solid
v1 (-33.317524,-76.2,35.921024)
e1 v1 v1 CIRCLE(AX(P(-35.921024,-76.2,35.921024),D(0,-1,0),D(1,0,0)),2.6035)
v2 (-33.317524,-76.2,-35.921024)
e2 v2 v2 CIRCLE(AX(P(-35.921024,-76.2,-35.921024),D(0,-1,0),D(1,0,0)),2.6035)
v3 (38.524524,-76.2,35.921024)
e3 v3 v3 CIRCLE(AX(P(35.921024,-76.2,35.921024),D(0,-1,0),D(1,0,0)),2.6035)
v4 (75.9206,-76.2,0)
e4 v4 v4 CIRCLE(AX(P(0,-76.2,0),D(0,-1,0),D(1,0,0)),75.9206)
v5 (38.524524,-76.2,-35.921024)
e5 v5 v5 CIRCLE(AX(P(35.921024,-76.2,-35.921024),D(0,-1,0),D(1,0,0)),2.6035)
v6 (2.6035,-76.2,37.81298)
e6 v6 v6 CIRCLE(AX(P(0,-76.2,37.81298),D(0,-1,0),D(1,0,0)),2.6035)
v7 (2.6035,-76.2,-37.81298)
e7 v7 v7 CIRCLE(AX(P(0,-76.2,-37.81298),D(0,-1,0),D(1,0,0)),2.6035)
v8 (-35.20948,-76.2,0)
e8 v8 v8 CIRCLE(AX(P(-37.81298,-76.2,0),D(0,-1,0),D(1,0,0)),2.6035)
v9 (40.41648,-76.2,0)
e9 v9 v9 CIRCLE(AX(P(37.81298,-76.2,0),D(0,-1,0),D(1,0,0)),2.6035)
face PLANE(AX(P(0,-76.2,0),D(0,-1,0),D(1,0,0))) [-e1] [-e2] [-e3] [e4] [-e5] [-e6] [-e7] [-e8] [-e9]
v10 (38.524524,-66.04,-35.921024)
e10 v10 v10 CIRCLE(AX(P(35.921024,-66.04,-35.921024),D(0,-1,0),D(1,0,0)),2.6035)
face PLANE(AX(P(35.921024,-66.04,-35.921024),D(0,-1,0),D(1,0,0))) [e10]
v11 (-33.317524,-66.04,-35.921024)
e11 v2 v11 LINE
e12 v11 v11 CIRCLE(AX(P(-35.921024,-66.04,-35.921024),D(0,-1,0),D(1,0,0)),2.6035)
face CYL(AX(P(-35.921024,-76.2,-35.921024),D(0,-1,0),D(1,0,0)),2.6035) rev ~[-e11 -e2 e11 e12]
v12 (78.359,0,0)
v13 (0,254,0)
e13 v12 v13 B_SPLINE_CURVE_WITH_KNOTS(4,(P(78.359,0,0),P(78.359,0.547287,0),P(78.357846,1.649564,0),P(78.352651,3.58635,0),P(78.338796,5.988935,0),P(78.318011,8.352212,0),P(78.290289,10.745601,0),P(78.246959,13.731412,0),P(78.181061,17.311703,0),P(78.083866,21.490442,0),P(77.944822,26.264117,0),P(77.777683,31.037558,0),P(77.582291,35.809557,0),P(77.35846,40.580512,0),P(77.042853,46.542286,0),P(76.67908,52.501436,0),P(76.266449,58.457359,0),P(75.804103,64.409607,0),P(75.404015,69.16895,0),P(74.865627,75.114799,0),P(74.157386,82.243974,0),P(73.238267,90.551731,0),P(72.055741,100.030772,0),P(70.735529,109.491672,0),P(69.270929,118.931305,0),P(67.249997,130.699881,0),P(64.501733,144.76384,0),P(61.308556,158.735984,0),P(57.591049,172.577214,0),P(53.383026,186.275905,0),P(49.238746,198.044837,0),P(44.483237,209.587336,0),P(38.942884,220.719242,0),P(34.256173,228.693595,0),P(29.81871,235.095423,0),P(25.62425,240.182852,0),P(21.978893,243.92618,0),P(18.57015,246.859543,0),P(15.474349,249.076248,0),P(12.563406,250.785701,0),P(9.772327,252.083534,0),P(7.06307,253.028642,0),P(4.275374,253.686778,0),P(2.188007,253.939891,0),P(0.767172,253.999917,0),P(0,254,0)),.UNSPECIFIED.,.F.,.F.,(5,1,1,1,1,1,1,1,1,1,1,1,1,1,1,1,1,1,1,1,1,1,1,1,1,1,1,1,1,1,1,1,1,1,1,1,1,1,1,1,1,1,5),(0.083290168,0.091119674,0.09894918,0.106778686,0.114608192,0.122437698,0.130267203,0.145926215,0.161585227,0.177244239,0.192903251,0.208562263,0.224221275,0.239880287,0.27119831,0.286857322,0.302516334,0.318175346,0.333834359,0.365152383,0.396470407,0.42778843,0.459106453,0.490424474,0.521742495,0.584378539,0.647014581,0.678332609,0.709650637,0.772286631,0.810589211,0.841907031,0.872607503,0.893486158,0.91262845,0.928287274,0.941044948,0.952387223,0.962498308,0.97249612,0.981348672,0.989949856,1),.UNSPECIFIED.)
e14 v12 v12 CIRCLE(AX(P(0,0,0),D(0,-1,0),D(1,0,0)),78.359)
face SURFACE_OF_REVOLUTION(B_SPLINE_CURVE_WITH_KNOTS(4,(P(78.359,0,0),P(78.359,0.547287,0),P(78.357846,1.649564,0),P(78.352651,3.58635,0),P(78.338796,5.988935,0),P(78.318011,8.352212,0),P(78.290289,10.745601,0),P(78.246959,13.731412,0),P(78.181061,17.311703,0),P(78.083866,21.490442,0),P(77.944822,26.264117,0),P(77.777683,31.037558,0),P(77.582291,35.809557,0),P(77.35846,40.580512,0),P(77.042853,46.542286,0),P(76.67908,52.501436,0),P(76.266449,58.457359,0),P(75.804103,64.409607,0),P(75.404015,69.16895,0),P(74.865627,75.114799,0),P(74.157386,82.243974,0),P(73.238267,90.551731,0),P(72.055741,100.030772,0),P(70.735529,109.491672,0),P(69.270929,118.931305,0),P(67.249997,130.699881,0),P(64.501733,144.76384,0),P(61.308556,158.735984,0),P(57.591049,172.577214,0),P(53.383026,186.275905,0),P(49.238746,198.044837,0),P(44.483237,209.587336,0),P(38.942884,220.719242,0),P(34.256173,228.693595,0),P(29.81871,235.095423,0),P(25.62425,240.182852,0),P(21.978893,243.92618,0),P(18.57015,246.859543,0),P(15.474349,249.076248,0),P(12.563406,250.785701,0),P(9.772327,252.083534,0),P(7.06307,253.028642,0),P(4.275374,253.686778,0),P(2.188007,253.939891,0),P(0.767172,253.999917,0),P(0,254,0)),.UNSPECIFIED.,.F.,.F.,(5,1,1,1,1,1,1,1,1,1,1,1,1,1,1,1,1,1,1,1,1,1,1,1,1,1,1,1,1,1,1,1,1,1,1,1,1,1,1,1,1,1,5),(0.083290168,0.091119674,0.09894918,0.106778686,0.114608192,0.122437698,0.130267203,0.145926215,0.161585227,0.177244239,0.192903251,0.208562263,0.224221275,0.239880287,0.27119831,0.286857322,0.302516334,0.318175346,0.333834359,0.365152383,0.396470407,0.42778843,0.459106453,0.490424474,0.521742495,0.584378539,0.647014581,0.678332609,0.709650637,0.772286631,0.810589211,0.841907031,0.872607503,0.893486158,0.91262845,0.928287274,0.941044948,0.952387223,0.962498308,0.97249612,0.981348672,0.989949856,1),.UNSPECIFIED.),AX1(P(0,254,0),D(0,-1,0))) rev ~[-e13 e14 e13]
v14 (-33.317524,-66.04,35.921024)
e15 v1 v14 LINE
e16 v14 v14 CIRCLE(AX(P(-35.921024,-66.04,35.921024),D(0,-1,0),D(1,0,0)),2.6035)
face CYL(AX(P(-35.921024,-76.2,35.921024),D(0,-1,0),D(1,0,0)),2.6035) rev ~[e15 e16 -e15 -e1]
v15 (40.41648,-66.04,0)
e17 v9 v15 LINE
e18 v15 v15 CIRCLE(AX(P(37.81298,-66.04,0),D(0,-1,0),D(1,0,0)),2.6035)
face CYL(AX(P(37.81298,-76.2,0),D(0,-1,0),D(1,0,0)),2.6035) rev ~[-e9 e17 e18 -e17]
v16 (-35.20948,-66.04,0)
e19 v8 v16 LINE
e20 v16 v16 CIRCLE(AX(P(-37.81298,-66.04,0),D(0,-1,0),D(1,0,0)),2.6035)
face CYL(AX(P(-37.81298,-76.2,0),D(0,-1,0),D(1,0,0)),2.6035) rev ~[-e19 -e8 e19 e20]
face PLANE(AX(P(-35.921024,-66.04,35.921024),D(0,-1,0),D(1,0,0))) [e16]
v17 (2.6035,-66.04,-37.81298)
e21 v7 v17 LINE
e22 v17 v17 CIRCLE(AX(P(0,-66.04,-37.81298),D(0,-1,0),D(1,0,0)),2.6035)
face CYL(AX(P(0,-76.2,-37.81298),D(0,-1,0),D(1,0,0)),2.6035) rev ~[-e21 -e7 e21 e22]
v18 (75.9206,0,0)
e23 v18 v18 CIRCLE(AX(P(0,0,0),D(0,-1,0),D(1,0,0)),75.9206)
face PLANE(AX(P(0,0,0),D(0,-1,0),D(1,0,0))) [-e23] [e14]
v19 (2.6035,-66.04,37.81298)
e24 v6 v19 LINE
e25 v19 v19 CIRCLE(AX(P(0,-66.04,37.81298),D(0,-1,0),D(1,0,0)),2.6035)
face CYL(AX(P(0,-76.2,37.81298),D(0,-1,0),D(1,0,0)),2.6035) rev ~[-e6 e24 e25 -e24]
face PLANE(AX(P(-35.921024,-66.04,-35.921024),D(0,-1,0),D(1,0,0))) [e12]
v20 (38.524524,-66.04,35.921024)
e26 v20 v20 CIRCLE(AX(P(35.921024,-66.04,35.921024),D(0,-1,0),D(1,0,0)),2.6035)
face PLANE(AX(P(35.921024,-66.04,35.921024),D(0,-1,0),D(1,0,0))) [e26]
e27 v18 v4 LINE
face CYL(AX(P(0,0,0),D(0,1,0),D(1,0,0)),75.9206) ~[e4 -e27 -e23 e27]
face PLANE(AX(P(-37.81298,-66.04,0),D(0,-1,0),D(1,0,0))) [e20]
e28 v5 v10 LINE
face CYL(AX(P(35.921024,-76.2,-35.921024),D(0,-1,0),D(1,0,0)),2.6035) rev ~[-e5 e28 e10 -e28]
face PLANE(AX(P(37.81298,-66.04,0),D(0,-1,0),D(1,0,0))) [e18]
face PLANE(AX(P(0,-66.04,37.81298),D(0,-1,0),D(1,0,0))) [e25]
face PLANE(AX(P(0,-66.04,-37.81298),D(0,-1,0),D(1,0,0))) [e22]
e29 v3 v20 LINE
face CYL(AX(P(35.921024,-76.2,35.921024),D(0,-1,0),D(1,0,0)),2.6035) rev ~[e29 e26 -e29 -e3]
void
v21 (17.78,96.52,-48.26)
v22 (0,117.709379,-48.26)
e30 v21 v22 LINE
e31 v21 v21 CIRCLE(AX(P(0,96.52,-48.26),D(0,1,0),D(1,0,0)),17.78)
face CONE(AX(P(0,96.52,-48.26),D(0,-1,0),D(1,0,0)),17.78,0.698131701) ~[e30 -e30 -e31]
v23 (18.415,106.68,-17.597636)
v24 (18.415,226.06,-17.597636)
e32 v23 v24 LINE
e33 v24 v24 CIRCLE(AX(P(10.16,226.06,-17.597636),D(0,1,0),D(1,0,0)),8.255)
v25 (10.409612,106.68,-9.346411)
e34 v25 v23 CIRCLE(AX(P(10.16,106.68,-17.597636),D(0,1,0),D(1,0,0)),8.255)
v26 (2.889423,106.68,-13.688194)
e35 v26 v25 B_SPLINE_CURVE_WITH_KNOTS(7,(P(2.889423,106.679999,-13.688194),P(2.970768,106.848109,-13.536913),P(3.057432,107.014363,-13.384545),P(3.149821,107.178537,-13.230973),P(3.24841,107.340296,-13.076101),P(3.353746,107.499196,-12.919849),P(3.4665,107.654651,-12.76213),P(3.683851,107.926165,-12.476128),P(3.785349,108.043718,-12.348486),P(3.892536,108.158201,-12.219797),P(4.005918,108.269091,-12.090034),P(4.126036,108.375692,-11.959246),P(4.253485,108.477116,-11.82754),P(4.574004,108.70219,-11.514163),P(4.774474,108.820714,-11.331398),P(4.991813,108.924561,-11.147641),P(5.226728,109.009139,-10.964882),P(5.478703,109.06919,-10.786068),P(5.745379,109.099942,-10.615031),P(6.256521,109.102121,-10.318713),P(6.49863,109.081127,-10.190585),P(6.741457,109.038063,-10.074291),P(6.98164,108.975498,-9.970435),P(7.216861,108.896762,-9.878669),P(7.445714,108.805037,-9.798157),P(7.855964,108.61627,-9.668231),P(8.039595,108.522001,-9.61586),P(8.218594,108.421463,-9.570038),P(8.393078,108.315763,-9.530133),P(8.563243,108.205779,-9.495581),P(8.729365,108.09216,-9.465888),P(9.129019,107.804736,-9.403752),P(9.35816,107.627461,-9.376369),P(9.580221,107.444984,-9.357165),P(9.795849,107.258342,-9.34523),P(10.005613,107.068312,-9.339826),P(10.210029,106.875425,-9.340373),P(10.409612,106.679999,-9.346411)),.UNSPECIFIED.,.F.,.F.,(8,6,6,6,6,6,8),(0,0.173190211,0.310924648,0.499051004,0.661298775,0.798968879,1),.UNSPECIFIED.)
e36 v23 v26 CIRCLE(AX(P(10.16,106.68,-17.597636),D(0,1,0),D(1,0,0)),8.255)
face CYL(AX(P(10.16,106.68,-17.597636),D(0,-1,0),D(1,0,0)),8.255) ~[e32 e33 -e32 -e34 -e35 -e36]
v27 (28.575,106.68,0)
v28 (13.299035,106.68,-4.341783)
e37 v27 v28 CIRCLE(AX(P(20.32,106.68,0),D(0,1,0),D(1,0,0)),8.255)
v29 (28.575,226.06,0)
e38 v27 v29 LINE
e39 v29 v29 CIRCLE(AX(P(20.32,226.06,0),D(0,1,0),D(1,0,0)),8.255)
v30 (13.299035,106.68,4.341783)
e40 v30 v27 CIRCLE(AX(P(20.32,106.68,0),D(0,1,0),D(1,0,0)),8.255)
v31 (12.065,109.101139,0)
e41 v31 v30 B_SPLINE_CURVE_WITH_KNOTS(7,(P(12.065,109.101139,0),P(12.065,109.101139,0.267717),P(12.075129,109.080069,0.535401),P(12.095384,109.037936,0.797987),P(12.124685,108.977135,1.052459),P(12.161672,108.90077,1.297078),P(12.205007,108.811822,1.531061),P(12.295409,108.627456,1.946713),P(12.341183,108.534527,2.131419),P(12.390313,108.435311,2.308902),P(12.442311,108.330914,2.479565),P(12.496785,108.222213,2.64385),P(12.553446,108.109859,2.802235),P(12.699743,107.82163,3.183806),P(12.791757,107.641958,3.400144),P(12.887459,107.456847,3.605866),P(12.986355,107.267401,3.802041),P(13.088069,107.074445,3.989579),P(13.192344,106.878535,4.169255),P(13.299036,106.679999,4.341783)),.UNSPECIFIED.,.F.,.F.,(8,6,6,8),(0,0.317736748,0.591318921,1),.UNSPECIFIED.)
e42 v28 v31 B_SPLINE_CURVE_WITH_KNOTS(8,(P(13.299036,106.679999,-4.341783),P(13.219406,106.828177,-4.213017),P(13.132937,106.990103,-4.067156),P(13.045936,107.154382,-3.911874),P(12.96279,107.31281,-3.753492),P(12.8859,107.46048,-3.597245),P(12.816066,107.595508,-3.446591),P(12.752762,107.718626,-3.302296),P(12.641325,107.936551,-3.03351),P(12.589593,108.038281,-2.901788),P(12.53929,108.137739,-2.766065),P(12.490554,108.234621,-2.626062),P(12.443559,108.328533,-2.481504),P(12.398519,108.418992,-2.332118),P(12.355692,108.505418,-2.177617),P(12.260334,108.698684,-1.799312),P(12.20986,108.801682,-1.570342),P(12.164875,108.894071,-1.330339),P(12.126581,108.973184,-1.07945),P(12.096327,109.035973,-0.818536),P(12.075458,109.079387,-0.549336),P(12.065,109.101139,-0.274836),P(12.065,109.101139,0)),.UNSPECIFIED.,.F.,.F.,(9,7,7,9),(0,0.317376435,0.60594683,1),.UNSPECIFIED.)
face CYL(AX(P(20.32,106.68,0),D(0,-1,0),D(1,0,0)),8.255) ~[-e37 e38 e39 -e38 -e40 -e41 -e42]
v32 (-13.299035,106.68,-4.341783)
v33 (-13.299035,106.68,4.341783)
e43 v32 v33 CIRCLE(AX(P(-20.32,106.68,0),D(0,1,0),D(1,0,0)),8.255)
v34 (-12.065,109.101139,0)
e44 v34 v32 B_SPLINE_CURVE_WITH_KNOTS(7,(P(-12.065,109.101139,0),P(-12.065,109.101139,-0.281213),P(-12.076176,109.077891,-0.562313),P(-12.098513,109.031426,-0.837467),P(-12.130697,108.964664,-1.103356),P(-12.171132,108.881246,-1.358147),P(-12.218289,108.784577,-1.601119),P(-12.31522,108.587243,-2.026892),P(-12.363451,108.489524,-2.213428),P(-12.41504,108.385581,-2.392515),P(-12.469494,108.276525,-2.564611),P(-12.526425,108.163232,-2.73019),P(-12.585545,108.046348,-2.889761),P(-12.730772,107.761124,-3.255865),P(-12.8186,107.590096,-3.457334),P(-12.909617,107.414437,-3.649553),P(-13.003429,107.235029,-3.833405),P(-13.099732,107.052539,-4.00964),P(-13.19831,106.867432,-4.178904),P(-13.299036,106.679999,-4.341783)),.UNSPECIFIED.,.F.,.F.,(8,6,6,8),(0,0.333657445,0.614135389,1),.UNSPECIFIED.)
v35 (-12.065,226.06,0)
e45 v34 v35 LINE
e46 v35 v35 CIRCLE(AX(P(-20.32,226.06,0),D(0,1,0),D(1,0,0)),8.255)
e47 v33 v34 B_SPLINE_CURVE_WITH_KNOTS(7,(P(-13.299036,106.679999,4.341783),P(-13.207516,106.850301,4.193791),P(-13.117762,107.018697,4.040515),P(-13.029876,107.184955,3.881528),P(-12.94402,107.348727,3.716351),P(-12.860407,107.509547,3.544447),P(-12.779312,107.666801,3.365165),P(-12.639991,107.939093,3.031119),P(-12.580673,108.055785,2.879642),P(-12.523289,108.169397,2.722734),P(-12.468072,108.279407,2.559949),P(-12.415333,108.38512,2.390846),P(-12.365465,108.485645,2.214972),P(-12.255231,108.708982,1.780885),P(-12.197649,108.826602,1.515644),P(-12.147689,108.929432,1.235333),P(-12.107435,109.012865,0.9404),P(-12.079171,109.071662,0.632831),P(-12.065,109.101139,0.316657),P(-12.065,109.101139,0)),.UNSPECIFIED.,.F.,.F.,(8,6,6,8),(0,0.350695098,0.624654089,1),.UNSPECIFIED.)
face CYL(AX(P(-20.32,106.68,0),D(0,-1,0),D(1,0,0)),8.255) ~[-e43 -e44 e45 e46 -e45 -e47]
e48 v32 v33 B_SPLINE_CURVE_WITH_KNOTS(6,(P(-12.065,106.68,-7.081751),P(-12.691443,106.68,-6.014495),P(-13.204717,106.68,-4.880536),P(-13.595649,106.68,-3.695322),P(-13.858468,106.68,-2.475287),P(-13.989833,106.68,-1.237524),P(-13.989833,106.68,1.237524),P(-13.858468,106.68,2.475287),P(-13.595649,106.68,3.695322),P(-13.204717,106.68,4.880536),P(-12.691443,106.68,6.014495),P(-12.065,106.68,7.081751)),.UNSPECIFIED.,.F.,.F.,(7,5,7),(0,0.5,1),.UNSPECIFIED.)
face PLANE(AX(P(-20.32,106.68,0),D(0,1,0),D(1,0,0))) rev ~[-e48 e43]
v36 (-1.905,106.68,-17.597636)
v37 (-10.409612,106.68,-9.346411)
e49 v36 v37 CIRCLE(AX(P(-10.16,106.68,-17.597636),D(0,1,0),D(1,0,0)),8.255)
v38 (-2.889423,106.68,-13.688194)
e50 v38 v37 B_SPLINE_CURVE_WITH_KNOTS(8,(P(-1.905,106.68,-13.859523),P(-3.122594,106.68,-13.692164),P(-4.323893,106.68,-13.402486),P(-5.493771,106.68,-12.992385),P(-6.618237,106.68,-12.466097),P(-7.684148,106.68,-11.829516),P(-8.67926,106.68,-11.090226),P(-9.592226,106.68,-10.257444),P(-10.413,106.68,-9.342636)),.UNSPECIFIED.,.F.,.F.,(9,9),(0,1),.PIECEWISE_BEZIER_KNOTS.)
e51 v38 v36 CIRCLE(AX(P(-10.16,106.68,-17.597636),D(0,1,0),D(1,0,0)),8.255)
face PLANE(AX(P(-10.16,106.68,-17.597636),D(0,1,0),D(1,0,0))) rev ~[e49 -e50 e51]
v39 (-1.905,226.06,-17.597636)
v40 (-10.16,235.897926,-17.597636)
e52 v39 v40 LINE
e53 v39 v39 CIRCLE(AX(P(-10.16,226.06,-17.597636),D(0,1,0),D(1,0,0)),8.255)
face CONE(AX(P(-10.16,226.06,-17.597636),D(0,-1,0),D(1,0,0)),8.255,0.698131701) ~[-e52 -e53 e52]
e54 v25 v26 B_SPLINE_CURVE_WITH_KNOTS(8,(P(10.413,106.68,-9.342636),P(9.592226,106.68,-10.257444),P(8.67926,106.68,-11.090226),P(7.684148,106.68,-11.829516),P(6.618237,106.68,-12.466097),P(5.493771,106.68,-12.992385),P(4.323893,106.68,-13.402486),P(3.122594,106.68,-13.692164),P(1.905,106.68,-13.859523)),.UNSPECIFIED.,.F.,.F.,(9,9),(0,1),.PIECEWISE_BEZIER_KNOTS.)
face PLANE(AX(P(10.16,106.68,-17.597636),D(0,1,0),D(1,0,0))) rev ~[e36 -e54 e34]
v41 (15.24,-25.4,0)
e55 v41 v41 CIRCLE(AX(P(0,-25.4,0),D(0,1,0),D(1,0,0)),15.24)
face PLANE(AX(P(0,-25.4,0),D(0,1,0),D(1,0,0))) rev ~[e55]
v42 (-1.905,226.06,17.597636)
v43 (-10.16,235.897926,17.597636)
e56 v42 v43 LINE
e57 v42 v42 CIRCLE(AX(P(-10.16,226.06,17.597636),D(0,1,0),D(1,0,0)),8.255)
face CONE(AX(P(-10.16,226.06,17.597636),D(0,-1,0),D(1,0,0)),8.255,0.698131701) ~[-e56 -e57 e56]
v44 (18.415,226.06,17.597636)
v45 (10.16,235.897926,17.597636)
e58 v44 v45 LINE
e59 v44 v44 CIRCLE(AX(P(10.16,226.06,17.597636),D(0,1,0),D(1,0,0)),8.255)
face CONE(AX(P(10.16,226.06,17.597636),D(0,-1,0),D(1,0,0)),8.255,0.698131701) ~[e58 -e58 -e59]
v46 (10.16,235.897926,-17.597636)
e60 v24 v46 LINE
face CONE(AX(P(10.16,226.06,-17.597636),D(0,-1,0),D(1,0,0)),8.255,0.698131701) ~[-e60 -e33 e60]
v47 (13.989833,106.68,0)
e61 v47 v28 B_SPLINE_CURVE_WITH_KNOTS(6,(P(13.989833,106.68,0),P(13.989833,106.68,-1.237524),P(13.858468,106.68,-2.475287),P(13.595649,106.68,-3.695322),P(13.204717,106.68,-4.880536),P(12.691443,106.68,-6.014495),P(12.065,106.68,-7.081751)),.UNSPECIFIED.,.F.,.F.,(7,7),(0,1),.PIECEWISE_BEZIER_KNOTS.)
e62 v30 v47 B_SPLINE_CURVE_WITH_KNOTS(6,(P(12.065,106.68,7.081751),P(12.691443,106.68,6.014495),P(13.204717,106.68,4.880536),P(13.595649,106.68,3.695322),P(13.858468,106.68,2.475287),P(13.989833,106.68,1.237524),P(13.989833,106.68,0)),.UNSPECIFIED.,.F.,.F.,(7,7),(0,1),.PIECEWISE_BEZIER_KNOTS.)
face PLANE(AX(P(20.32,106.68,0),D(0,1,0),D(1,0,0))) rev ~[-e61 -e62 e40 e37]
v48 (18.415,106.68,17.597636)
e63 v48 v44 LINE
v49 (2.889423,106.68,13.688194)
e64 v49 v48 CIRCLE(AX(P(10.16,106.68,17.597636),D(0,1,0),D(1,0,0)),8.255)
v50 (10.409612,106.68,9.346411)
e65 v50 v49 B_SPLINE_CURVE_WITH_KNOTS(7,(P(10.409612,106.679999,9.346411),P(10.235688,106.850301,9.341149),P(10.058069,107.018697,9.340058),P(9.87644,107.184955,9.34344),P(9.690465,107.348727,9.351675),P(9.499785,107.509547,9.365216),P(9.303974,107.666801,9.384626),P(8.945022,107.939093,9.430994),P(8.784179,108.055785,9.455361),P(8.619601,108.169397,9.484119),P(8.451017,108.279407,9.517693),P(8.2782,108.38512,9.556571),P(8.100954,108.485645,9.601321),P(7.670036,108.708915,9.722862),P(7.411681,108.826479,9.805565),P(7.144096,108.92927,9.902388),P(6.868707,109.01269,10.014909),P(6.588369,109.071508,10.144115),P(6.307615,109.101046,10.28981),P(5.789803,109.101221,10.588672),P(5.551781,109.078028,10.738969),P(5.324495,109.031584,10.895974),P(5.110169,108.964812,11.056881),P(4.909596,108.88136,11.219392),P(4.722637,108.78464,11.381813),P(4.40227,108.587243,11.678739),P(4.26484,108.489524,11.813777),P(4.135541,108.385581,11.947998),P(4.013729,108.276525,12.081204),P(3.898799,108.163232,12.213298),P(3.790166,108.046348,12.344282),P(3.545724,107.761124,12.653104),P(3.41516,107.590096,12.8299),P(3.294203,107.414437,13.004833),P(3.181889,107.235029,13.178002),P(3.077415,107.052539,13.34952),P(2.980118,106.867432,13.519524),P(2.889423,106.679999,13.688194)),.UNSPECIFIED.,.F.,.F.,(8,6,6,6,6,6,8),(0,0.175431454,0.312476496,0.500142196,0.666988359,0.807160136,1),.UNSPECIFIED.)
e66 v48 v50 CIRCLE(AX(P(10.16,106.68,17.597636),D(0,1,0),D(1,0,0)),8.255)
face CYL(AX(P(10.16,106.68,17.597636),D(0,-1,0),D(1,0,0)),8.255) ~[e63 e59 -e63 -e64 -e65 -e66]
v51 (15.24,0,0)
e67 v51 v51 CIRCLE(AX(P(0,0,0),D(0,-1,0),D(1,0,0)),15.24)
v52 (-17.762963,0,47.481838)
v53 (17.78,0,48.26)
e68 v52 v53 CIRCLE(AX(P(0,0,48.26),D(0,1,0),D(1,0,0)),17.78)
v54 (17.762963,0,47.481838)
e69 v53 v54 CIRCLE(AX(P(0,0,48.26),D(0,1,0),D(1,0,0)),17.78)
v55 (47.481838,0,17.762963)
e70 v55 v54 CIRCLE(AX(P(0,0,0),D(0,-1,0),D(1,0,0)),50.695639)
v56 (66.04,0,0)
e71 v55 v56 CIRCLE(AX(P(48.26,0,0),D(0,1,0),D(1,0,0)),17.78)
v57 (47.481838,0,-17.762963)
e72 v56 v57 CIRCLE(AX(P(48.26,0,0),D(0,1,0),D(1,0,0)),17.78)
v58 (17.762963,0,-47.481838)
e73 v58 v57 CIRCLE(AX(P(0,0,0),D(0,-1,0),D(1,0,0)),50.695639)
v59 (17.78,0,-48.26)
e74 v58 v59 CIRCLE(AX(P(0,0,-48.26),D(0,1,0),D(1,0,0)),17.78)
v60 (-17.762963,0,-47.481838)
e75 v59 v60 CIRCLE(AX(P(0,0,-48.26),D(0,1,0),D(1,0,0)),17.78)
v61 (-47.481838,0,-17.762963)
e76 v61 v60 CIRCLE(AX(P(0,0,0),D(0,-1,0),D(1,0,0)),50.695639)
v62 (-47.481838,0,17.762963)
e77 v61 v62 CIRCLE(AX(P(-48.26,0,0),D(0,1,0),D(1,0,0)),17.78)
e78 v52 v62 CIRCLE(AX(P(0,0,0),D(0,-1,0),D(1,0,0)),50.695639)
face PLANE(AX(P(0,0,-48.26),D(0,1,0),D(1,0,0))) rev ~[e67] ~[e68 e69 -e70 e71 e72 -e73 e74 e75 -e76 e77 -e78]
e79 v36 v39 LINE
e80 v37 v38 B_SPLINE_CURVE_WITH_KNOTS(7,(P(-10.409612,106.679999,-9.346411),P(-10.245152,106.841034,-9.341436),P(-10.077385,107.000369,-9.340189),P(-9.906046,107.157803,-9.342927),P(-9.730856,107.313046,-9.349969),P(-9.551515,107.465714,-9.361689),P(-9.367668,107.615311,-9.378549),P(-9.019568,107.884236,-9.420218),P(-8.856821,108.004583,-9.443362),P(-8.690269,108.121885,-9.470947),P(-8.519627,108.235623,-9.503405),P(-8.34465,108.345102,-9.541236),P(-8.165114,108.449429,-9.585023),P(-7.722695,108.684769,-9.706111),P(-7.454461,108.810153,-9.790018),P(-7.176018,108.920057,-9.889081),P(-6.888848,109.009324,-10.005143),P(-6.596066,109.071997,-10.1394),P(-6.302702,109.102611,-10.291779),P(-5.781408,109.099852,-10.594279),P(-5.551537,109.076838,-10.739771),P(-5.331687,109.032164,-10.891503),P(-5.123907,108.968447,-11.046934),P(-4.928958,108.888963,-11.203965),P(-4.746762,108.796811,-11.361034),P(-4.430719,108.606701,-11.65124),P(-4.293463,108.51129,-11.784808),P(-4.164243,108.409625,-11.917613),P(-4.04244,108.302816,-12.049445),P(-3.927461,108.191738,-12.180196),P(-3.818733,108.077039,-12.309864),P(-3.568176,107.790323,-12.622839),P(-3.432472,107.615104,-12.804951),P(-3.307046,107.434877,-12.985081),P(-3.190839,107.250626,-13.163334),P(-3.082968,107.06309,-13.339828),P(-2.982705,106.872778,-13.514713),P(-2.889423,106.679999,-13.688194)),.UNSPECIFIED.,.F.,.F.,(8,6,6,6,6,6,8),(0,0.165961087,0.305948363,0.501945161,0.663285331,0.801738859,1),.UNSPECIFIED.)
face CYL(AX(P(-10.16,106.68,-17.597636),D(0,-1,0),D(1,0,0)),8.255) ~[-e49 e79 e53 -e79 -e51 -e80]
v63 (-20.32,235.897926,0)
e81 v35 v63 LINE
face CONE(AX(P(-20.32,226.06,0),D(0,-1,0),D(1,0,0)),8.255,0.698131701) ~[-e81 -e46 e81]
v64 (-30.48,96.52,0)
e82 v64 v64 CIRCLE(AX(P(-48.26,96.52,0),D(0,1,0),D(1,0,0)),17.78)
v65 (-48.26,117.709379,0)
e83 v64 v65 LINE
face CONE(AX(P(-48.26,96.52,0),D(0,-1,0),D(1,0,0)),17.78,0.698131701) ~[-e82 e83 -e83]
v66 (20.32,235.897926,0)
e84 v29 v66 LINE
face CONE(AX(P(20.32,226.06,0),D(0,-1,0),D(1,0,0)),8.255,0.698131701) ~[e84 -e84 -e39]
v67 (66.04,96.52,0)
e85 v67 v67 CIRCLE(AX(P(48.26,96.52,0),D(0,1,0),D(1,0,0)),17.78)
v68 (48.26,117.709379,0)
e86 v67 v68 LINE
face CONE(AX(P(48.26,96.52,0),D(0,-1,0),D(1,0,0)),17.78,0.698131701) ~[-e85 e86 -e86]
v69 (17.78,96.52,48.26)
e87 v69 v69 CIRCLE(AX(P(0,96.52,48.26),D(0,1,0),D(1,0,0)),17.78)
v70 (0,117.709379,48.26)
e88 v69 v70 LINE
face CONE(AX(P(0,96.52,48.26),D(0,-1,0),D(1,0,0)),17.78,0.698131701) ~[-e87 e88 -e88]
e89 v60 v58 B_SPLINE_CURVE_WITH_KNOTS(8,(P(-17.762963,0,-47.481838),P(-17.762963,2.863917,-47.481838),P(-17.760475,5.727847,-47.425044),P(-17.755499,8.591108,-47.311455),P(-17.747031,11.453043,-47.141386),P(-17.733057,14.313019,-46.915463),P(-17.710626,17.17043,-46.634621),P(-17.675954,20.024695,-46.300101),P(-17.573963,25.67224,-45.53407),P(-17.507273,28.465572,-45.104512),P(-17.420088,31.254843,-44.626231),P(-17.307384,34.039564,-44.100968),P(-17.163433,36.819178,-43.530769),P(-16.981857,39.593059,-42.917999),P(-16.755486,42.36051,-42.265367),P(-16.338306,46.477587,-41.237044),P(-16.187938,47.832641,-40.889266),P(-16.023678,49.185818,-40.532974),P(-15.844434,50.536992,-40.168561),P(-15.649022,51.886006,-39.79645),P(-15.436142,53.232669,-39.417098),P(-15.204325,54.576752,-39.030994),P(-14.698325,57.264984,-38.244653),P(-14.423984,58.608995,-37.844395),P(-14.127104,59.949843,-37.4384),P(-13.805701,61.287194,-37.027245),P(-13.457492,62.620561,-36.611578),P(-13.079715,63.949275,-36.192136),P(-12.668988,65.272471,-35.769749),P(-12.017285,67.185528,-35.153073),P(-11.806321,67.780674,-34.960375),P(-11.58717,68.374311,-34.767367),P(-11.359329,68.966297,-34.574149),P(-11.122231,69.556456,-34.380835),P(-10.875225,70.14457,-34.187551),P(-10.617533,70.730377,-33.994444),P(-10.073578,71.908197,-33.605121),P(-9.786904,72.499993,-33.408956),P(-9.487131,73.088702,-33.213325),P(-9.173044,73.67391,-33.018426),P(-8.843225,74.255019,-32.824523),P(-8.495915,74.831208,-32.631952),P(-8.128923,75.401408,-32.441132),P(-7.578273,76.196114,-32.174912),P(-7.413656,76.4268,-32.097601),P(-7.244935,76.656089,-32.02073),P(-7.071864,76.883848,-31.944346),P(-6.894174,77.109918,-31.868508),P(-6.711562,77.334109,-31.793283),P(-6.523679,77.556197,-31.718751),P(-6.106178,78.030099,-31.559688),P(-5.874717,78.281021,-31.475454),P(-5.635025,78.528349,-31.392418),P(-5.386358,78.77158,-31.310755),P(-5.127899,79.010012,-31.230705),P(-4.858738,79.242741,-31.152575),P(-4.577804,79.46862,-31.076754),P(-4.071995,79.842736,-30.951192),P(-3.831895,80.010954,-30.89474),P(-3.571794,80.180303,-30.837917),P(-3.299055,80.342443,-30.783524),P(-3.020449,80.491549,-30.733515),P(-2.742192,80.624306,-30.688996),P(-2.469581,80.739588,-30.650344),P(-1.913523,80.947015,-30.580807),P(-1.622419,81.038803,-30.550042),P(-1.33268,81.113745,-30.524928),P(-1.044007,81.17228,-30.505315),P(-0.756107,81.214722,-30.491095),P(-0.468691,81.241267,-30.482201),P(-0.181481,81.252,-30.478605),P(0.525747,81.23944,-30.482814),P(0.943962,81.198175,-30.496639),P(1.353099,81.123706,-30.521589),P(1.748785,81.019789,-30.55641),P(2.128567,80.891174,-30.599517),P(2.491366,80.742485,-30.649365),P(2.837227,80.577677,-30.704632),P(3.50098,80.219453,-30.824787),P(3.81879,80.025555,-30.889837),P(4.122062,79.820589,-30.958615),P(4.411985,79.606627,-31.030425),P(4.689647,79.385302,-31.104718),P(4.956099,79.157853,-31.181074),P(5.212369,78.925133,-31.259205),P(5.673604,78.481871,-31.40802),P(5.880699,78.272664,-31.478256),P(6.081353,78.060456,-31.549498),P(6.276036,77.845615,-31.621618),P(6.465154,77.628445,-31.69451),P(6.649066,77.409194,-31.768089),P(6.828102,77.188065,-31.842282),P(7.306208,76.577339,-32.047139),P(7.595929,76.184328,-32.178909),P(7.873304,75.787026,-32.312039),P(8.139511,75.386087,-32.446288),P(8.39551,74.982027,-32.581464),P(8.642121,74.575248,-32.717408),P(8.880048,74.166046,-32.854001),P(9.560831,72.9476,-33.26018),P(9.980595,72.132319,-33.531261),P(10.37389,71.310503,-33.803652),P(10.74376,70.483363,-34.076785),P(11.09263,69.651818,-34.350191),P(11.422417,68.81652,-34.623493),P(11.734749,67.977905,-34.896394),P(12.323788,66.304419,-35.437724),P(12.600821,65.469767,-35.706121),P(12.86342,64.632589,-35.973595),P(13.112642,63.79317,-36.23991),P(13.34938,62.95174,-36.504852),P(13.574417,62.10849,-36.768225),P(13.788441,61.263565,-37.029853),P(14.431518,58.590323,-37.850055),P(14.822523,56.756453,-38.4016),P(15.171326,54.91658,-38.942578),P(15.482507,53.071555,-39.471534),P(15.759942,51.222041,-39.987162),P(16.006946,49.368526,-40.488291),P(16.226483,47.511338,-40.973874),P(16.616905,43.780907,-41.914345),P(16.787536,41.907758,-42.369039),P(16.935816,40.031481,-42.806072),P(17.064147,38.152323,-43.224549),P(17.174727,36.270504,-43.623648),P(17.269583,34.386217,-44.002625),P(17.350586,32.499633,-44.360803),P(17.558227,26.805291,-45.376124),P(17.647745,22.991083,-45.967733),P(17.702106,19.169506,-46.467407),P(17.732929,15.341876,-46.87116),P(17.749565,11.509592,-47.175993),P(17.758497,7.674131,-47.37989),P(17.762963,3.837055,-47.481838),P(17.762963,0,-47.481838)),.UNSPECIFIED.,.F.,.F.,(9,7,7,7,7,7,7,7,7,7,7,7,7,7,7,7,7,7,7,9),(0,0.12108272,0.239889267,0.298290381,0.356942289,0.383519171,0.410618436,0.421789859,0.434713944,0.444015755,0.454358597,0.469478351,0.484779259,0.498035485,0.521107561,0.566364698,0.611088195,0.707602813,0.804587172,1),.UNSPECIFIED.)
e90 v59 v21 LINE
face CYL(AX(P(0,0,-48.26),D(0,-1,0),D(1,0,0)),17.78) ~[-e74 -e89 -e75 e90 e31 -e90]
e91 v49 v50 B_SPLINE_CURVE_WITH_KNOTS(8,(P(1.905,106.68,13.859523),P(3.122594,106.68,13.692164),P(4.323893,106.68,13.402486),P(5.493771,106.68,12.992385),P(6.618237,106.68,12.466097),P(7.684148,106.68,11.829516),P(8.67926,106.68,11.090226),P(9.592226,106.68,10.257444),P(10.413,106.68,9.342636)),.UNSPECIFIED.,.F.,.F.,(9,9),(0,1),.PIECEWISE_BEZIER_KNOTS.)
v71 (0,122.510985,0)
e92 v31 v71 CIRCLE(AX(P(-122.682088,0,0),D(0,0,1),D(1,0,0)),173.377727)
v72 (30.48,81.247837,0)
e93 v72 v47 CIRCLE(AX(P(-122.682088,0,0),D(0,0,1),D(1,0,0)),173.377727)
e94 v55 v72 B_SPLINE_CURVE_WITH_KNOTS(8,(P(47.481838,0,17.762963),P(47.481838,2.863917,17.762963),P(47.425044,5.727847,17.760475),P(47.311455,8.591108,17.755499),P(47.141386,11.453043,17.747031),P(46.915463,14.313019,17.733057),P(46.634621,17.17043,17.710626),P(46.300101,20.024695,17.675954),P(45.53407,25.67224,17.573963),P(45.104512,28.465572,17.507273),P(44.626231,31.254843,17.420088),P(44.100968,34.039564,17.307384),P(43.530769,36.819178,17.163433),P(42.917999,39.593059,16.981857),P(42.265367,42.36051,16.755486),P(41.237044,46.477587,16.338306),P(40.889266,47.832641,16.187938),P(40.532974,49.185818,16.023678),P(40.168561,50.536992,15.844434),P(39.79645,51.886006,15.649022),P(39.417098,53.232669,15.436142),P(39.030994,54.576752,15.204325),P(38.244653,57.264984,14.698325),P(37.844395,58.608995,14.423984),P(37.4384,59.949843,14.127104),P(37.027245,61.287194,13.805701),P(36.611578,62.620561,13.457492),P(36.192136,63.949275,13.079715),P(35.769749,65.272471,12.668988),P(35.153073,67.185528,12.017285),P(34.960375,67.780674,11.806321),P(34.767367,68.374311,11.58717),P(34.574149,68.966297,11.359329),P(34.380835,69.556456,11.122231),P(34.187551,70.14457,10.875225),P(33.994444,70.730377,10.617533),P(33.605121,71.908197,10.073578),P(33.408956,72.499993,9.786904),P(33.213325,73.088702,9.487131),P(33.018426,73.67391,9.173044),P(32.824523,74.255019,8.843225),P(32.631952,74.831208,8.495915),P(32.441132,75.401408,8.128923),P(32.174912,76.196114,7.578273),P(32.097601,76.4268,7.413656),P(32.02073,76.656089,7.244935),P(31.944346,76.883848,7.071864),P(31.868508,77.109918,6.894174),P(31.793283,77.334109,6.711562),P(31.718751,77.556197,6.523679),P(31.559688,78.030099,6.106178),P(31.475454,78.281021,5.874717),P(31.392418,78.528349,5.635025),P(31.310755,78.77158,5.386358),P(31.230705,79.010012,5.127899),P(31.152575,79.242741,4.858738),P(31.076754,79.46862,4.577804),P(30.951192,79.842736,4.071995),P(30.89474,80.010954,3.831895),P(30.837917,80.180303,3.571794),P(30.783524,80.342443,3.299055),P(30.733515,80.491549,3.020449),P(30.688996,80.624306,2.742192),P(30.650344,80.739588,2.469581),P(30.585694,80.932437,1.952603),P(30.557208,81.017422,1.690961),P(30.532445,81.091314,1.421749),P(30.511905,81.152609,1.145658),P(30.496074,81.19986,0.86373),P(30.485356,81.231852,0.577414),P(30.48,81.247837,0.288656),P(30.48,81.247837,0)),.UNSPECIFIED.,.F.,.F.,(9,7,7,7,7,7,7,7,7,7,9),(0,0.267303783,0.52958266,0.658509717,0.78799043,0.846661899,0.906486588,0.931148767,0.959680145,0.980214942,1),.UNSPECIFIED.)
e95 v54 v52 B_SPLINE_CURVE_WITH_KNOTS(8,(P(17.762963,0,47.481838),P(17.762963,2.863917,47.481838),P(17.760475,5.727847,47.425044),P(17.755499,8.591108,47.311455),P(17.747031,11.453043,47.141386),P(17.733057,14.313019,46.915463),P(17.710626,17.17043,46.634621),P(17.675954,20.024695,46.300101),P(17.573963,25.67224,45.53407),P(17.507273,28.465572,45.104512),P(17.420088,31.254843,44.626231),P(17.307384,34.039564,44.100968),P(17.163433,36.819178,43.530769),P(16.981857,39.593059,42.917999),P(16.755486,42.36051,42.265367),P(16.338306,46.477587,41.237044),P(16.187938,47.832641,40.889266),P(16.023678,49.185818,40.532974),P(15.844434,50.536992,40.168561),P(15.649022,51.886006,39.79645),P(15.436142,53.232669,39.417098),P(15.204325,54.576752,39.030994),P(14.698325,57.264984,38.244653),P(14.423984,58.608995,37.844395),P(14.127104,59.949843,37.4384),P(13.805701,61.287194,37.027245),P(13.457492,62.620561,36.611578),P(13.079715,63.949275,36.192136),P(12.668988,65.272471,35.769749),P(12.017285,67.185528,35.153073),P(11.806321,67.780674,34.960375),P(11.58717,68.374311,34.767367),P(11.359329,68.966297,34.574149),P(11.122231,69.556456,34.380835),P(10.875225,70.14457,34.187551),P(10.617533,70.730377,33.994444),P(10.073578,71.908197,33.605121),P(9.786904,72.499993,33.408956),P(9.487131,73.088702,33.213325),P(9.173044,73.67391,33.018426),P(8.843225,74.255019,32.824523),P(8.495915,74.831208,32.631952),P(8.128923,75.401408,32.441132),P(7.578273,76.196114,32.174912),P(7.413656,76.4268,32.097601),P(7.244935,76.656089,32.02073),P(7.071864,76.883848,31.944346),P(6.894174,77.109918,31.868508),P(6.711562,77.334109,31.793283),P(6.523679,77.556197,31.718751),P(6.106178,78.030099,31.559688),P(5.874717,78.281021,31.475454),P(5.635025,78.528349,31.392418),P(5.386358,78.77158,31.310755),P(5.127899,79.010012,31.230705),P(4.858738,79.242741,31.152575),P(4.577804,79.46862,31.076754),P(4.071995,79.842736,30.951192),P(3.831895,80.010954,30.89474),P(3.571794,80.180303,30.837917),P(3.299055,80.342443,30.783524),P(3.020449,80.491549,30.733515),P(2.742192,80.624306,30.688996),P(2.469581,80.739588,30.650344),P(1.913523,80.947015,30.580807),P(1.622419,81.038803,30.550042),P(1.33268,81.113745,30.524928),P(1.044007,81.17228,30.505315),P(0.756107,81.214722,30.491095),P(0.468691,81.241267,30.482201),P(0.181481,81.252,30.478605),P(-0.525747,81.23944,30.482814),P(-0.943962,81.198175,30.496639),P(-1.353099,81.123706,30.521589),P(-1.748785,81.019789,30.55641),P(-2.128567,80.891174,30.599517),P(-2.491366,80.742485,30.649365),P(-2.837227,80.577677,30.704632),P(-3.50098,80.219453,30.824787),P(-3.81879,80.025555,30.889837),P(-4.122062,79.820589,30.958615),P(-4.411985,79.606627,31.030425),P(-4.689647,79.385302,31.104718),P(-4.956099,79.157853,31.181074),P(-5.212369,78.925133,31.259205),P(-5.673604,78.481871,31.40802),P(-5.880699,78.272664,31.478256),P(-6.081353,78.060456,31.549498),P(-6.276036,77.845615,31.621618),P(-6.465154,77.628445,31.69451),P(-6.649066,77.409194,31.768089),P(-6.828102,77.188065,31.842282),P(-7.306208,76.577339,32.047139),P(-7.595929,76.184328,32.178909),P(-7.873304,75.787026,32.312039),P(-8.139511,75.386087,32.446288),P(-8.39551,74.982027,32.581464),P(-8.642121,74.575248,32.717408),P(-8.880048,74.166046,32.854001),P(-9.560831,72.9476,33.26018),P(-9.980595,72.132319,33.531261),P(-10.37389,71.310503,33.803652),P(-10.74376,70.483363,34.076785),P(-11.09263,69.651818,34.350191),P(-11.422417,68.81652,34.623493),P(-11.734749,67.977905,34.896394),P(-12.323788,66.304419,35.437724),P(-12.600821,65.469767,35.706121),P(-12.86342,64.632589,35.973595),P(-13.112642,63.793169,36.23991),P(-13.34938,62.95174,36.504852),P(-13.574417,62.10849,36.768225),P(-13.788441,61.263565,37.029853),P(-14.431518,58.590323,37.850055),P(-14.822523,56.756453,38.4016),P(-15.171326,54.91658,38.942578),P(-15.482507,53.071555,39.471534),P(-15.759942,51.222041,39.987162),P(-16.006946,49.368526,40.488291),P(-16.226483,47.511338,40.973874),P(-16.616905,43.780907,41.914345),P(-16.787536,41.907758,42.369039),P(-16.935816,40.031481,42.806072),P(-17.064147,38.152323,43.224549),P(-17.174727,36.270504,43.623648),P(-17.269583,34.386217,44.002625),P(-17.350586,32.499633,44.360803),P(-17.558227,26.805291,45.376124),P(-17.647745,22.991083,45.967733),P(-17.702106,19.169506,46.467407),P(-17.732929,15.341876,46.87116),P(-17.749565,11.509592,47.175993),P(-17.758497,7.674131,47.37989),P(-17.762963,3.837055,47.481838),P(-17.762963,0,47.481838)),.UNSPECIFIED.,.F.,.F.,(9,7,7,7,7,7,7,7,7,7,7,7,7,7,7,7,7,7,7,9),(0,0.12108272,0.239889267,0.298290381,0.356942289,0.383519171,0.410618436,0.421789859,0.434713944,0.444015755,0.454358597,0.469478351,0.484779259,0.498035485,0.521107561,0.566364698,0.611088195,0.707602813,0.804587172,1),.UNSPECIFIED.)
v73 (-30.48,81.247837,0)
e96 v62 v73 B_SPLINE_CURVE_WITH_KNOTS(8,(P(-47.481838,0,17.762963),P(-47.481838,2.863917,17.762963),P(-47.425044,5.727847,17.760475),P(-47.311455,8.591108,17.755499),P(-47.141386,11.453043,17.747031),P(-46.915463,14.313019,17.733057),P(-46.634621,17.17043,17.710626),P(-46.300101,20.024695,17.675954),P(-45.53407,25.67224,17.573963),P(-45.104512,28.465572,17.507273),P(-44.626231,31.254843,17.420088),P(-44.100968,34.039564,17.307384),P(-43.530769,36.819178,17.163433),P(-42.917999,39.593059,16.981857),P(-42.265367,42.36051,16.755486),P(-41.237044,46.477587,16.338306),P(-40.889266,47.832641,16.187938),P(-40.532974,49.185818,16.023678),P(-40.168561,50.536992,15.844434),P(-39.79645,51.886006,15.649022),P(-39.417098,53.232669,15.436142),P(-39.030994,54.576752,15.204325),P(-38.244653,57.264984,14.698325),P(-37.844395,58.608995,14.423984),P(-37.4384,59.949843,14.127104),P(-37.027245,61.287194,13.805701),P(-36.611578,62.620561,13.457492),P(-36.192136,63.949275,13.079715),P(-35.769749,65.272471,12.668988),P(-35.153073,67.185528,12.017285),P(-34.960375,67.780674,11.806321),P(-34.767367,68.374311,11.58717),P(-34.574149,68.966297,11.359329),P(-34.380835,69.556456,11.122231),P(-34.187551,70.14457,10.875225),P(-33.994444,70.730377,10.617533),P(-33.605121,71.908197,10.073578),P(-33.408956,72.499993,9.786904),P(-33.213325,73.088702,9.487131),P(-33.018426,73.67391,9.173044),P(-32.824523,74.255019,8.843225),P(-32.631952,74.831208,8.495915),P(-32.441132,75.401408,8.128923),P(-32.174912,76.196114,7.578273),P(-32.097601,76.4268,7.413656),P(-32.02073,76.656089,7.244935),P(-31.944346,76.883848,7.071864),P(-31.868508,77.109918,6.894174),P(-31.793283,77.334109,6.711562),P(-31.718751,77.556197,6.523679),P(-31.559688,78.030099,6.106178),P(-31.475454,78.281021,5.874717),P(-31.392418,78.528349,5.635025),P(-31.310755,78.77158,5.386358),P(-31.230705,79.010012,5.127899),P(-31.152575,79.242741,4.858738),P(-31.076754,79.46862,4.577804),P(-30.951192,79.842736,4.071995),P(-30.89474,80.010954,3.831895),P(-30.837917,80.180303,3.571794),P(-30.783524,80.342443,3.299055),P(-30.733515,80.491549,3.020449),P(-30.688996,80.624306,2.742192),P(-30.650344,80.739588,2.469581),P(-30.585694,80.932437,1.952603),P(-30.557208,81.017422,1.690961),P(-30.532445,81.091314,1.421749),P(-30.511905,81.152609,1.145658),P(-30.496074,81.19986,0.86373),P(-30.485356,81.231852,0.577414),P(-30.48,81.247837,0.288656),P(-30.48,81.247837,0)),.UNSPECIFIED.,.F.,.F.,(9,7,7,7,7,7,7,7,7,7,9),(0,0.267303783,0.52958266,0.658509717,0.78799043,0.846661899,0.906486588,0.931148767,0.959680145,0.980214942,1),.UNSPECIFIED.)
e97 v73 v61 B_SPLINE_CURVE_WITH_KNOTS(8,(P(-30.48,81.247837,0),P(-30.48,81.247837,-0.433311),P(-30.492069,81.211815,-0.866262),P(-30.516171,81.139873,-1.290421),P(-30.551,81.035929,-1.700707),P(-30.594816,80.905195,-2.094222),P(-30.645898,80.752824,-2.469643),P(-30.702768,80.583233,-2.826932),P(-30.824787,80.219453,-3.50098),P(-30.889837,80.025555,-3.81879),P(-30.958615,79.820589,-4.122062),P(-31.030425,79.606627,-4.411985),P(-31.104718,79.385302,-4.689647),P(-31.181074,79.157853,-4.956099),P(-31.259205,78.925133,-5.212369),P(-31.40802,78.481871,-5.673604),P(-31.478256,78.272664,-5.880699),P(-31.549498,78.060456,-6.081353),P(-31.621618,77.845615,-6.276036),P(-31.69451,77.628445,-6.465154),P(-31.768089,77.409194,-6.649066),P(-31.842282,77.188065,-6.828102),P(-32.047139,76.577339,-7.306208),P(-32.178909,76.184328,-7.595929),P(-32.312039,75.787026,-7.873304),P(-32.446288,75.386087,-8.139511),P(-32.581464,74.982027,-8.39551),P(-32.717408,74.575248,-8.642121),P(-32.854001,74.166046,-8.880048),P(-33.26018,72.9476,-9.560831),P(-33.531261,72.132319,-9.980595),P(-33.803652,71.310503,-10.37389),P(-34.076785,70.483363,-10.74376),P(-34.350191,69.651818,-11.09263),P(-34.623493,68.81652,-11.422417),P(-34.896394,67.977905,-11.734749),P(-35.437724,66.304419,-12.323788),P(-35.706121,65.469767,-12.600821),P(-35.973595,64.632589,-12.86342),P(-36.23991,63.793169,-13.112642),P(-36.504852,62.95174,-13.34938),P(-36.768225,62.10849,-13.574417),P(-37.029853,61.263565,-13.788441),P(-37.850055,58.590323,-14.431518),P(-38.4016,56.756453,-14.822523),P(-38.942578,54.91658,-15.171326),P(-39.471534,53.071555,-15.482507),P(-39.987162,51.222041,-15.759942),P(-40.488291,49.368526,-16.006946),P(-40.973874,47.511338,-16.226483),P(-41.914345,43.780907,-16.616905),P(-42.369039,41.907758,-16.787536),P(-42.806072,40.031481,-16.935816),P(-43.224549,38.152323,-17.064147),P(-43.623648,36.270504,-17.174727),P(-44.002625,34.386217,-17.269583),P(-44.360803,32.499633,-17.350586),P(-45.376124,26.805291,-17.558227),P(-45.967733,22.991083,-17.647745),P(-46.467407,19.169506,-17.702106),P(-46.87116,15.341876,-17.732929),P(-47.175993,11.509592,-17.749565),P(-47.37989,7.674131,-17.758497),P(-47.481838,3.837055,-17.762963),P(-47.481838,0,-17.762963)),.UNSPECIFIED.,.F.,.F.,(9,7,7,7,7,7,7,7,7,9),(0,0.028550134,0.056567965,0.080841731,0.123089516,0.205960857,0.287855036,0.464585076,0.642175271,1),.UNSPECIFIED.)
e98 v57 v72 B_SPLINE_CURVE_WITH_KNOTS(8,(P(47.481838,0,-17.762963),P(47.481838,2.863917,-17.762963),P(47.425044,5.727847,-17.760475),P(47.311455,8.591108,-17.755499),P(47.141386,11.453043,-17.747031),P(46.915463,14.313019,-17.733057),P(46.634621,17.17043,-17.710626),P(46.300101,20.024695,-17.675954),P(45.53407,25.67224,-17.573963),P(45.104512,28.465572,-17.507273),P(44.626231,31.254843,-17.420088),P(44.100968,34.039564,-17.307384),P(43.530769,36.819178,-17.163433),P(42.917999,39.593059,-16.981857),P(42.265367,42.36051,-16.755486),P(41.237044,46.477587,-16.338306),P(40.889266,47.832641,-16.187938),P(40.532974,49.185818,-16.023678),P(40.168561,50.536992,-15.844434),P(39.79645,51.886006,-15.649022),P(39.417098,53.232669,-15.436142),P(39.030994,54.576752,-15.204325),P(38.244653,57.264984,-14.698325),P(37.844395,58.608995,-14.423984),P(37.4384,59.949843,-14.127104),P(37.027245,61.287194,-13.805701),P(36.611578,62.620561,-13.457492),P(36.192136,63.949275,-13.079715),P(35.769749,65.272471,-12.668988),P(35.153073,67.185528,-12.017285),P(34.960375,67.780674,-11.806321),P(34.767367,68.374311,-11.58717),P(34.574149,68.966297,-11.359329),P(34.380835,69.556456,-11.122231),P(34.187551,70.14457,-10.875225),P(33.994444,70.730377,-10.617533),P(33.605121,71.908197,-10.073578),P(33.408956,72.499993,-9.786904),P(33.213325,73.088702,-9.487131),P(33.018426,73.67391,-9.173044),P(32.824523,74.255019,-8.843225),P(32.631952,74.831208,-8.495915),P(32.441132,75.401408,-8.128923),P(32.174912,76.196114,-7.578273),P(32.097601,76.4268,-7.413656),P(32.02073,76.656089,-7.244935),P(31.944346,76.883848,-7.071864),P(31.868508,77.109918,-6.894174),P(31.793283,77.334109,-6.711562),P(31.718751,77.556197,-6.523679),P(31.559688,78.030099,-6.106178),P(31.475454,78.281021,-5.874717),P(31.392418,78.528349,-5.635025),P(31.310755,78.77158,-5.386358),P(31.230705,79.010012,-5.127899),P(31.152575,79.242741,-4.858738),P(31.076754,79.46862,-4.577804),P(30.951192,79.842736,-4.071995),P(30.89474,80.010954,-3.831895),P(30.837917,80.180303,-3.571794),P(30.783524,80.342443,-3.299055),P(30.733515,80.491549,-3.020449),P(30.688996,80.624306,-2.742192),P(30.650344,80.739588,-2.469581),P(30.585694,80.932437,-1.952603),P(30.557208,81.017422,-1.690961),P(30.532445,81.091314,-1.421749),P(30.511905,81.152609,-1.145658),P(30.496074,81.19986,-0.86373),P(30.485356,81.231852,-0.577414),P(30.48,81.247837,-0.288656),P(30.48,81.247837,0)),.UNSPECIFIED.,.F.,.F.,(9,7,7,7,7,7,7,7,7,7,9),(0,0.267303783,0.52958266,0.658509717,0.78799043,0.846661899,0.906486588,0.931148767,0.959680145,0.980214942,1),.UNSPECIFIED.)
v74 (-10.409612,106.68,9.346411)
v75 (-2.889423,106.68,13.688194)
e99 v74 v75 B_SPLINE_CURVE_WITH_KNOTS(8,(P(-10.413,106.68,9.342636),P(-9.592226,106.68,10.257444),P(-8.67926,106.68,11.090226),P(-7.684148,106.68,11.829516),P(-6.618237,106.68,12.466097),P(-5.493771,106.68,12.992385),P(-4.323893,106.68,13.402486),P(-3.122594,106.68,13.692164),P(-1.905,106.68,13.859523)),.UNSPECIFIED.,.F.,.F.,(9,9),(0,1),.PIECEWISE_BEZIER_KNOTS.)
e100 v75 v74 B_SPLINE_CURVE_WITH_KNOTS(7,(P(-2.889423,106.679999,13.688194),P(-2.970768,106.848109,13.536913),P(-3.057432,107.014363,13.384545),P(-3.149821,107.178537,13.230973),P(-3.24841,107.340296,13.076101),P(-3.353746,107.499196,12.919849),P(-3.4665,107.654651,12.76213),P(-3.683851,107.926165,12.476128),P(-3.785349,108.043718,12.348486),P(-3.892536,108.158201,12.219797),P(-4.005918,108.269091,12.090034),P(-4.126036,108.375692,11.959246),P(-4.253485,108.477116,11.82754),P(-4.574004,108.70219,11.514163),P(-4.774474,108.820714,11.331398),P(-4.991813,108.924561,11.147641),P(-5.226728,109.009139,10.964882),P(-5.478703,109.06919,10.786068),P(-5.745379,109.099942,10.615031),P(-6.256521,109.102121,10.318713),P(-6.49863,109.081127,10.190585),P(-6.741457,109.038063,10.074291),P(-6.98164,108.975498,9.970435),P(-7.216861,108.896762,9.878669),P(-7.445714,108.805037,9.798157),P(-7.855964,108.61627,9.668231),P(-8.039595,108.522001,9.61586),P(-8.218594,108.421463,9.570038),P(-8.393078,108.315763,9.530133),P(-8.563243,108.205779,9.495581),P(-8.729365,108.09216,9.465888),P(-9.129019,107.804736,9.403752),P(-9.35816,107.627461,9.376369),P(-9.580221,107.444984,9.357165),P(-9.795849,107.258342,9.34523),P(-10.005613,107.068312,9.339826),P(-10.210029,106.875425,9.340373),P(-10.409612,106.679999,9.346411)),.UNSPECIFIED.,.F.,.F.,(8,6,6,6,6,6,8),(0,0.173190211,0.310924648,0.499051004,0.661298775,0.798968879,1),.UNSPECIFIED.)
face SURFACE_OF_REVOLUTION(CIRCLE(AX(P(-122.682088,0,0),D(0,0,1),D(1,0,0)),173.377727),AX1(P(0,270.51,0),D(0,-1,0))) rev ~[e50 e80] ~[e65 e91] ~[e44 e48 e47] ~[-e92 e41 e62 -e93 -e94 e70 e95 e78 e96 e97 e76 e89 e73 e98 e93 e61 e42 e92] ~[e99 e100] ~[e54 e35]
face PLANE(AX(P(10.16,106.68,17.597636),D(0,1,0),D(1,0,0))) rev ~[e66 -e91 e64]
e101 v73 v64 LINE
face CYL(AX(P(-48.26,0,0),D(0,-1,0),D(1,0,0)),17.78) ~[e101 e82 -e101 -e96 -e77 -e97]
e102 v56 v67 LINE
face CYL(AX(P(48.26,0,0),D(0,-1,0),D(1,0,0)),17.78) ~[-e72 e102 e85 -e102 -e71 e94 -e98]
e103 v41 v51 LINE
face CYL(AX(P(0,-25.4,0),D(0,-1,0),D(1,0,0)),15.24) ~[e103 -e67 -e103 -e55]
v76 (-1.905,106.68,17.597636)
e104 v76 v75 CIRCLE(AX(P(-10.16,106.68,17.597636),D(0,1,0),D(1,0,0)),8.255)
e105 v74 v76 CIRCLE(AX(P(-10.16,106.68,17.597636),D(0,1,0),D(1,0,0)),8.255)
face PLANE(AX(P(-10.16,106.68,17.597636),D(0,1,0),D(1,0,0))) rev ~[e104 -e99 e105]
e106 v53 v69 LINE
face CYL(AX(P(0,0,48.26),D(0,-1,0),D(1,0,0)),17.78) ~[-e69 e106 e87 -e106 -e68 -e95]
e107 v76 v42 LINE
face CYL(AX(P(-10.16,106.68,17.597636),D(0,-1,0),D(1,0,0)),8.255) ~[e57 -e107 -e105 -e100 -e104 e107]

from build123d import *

# Parameters (mm, degrees)
SKETCH2_R           = 75.9206
BOSS_EXTRUDE1_DEPTH = 76.2
SKETCH4_R           = 17.78
CUT_EXTRUDE1_DEPTH  = 96.52
CUT_EXTRUDE2_START  = 106.68
SKETCH5_R           = 8.255
CUT_EXTRUDE2_DEPTH  = 119.38
CUT_EXTRUDE3_START  = -25.4
SKETCH19_R          = 15.24
CUT_EXTRUDE3_DEPTH  = 101.6
SKETCH21_R          = 2.6035
CUT_EXTRUDE4_DEPTH  = 10.16
SKETCH22_R          = 2.6035
CUT_EXTRUDE5_DEPTH  = 10.16


with BuildPart() as part:
    # Sketch1 → Revolve1 (revolve)
    with BuildSketch(Plane.XY):
        with BuildLine():
            Line((78.359, 0), (0, 0))
            Line((0, 0), (0, 254))
            add(Edge.make_bspline(
                [(78.359, 0), (78.359, 0.547287489), (78.357845602, 1.649563618), (78.352650776, 3.586349875), (78.338796346, 5.988934596), (78.318010672, 8.352211569), (78.29028895, 10.745600888), (78.246958697, 13.731411826), (78.181061307, 17.311703382), (78.08386626, 21.490442467), (77.944822085, 26.264117007), (77.777683186, 31.037557631), (77.58229134, 35.809557456), (77.358460439, 40.580511863), (77.042853487, 46.542286246), (76.679080298, 52.501436144), (76.266448568, 58.457359127), (75.804102806, 64.409607399), (75.404015228, 69.168949637), (74.865626928, 75.114798701), (74.157385744, 82.243973993), (73.238266918, 90.551730955), (72.055740597, 100.030771811), (70.735528943, 109.491671534), (69.270929118, 118.931305028), (67.249996919, 130.699881306), (64.501732948, 144.763840427), (61.308555538, 158.735984092), (57.591049496, 172.577213574), (53.383025938, 186.275905479), (49.238746312, 198.044837449), (44.48323743, 209.587335711), (38.942884235, 220.71924179), (34.256173135, 228.693595393), (29.818710248, 235.095423042), (25.624249732, 240.182852143), (21.978892835, 243.926180276), (18.570150197, 246.859542723), (15.474349081, 249.076247661), (12.563405711, 250.785701438), (9.772327363, 252.083533871), (7.063069709, 253.028642362), (4.275373805, 253.686778481), (2.188006886, 253.939891173), (0.767171586, 253.999916555), (0, 254)],
                knots=[0.083290168, 0.083290168, 0.083290168, 0.083290168, 0.083290168, 0.091119674, 0.09894918, 0.106778686, 0.114608192, 0.122437698, 0.130267203, 0.145926215, 0.161585227, 0.177244239, 0.192903251, 0.208562263, 0.224221275, 0.239880287, 0.27119831, 0.286857322, 0.302516334, 0.318175346, 0.333834359, 0.365152383, 0.396470407, 0.42778843, 0.459106453, 0.490424474, 0.521742495, 0.584378539, 0.647014581, 0.678332609, 0.709650637, 0.772286631, 0.810589211, 0.841907031, 0.872607503, 0.893486158, 0.91262845, 0.928287274, 0.941044948, 0.952387223, 0.962498308, 0.97249612, 0.981348672, 0.989949856, 1, 1, 1, 1, 1], degree=4))
        make_face()
    revolve(axis=Axis((0, 254, 0), (0, -1, 0)))

    # Sketch2 → Boss-Extrude1 (add)
    with BuildSketch(Plane.XZ):
        Circle(SKETCH2_R)
    extrude(amount=BOSS_EXTRUDE1_DEPTH)

    # Sketch4 → Cut-Extrude1 (cut)
    with BuildSketch(Plane(origin=(0, 0, 0), x_dir=(1, 0, 0), z_dir=(0, 1, 0))):
        with Locations((48.26, 0)):
            Circle(SKETCH4_R)
        with Locations((0, -48.26)):
            Circle(SKETCH4_R)
        with Locations((-48.26, 0)):
            Circle(SKETCH4_R)
        with Locations((0, 48.26)):
            Circle(SKETCH4_R)
    extrude(amount=CUT_EXTRUDE1_DEPTH, mode=Mode.SUBTRACT)

    # Sketch5 → Cut-Extrude2 (cut)
    with BuildSketch(Plane(origin=(0, 0, 0), x_dir=(1, 0, 0), z_dir=(0, 1, 0)).offset(CUT_EXTRUDE2_START)):
        with Locations((20.32, 0)):
            Circle(SKETCH5_R)
        with Locations((10.16, -17.597636205)):
            Circle(SKETCH5_R)
        with Locations((-10.16, -17.597636205)):
            Circle(SKETCH5_R)
        with Locations((-20.32, 0)):
            Circle(SKETCH5_R)
        with Locations((-10.16, 17.597636205)):
            Circle(SKETCH5_R)
        with Locations((10.16, 17.597636205)):
            Circle(SKETCH5_R)
    extrude(amount=CUT_EXTRUDE2_DEPTH, mode=Mode.SUBTRACT)

    # Sketch6 → Cut-Revolve2 (revolve, cut)
    with BuildSketch(Plane.XY):
        Polygon((-30.48, 96.52), (-48.26, 117.709378876), (-48.26, 96.52), align=None)
    revolve(axis=Axis((-48.26, 96.52, 0), (0, -1, 0)), mode=Mode.SUBTRACT)

    # Sketch8 → Cut-Revolve4 (revolve, cut)
    with BuildSketch(Plane.XY.offset(48.26)):
        Polygon((0, 96.52), (17.78, 96.52), (0, 117.709378876), align=None)
    revolve(axis=Axis((0, 96.52, 48.26), (0, -1, 0)), mode=Mode.SUBTRACT)

    # Sketch9 → Cut-Revolve5 (revolve, cut)
    with BuildSketch(Plane.XY):
        Polygon((48.26, 96.52), (66.04, 96.52), (48.26, 117.709378876), align=None)
    revolve(axis=Axis((48.26, 96.52, 0), (0, -1, 0)), mode=Mode.SUBTRACT)

    # Sketch11 → Cut-Revolve6 (revolve, cut)
    with BuildSketch(Plane.XY.offset(-48.26)):
        Polygon((0, 96.52), (17.78, 96.52), (0, 117.709378876), align=None)
    revolve(axis=Axis((0, 96.52, -48.26), (0, -1, 0)), mode=Mode.SUBTRACT)

    # Sketch12 → Cut-Revolve7 (revolve, cut)
    with BuildSketch(Plane.XY):
        Polygon((-20.32, 226.06), (-12.065, 226.06), (-20.32, 235.897925907), align=None)
    revolve(axis=Axis((-20.32, 226.06, 0), (0, -1, 0)), mode=Mode.SUBTRACT)

    # Sketch14 → Cut-Revolve8 (revolve, cut)
    with BuildSketch(Plane.XY):
        Polygon((20.32, 226.06), (28.575, 226.06), (20.32, 235.897925907), align=None)
    revolve(axis=Axis((20.32, 235.897925907, 0), (0, -1, 0)), mode=Mode.SUBTRACT)

    # Sketch15 → Cut-Revolve9 (revolve, cut)
    with BuildSketch(Plane.XY.offset(17.597636205)):
        Polygon((-10.16, 226.06), (-1.905, 226.06), (-10.16, 235.897925907), align=None)
    revolve(axis=Axis((-10.16, 226.06, 17.597636205), (0, -1, 0)), mode=Mode.SUBTRACT)

    # Sketch16 → Cut-Revolve10 (revolve, cut)
    with BuildSketch(Plane.XY.offset(17.597636205)):
        Polygon((10.16, 226.06), (18.415, 226.06), (10.16, 235.897925907), align=None)
    revolve(axis=Axis((10.16, 235.897925907, 17.597636205), (0, -1, 0)), mode=Mode.SUBTRACT)

    # Sketch17 → Cut-Revolve11 (revolve, cut)
    with BuildSketch(Plane.XY.offset(-17.597636205)):
        Polygon((10.16, 226.06), (18.415, 226.06), (10.16, 235.897925907), align=None)
    revolve(axis=Axis((10.16, 235.897925907, -17.597636205), (0, -1, 0)), mode=Mode.SUBTRACT)

    # Sketch18 → Cut-Revolve12 (revolve, cut)
    with BuildSketch(Plane.XY.offset(-17.597636205)):
        Polygon((-10.16, 226.06), (-1.905, 226.06), (-10.16, 235.897925907), align=None)
    revolve(axis=Axis((-10.16, 235.897925907, -17.597636205), (0, -1, 0)), mode=Mode.SUBTRACT)

    # Sketch19 → Cut-Extrude3 (cut)
    with BuildSketch(Plane(origin=(0, 0, 0), x_dir=(1, 0, 0), z_dir=(0, 1, 0)).offset(CUT_EXTRUDE3_START)):
        Circle(SKETCH19_R)
    extrude(amount=CUT_EXTRUDE3_DEPTH, mode=Mode.SUBTRACT)

    # Sketch20 → Cut-Revolve13 (revolve, cut)
    with BuildSketch(Plane.XY):
        Polygon((0, 76.2), (15.24, 76.2), (0, 94.362324751), align=None)
    revolve(axis=Axis((0, 270.51, 0), (0, -1, 0)), mode=Mode.SUBTRACT)

    # Sketch21 → Cut-Extrude4 (cut)
    with BuildSketch(Plane.XZ.offset(76.2)):
        with Locations((-37.81298, 0)):
            Circle(SKETCH21_R)
        with Locations((0, 37.81298)):
            Circle(SKETCH21_R)
        with Locations((37.81298, 0)):
            Circle(SKETCH21_R)
        with Locations((0, -37.81298)):
            Circle(SKETCH21_R)
    extrude(amount=-CUT_EXTRUDE4_DEPTH, mode=Mode.SUBTRACT)

    # Sketch22 → Cut-Extrude5 (cut)
    with BuildSketch(Plane.XZ.offset(76.2)):
        with Locations((-35.921024484, -35.921024484)):
            Circle(SKETCH22_R)
        with Locations((-35.921024484, 35.921024484)):
            Circle(SKETCH22_R)
        with Locations((35.921024484, 35.921024484)):
            Circle(SKETCH22_R)
        with Locations((35.921024484, -35.921024484)):
            Circle(SKETCH22_R)
    extrude(amount=-CUT_EXTRUDE5_DEPTH, mode=Mode.SUBTRACT)

    # Sketch3 → Cut-Revolve1 (revolve, cut)
    with BuildSketch(Plane.XY):
        with BuildLine():
            Line((0, 0), (50.695639171, 0))
            ThreePointArc((50.695639171, 0), (37.521185782, 66.292890616), (0, 122.510985441))
            Line((0, 122.510985441), (0, 0))
        make_face()
    revolve(axis=Axis((0, 270.51, 0), (0, -1, 0)), mode=Mode.SUBTRACT)


solid = part.part
